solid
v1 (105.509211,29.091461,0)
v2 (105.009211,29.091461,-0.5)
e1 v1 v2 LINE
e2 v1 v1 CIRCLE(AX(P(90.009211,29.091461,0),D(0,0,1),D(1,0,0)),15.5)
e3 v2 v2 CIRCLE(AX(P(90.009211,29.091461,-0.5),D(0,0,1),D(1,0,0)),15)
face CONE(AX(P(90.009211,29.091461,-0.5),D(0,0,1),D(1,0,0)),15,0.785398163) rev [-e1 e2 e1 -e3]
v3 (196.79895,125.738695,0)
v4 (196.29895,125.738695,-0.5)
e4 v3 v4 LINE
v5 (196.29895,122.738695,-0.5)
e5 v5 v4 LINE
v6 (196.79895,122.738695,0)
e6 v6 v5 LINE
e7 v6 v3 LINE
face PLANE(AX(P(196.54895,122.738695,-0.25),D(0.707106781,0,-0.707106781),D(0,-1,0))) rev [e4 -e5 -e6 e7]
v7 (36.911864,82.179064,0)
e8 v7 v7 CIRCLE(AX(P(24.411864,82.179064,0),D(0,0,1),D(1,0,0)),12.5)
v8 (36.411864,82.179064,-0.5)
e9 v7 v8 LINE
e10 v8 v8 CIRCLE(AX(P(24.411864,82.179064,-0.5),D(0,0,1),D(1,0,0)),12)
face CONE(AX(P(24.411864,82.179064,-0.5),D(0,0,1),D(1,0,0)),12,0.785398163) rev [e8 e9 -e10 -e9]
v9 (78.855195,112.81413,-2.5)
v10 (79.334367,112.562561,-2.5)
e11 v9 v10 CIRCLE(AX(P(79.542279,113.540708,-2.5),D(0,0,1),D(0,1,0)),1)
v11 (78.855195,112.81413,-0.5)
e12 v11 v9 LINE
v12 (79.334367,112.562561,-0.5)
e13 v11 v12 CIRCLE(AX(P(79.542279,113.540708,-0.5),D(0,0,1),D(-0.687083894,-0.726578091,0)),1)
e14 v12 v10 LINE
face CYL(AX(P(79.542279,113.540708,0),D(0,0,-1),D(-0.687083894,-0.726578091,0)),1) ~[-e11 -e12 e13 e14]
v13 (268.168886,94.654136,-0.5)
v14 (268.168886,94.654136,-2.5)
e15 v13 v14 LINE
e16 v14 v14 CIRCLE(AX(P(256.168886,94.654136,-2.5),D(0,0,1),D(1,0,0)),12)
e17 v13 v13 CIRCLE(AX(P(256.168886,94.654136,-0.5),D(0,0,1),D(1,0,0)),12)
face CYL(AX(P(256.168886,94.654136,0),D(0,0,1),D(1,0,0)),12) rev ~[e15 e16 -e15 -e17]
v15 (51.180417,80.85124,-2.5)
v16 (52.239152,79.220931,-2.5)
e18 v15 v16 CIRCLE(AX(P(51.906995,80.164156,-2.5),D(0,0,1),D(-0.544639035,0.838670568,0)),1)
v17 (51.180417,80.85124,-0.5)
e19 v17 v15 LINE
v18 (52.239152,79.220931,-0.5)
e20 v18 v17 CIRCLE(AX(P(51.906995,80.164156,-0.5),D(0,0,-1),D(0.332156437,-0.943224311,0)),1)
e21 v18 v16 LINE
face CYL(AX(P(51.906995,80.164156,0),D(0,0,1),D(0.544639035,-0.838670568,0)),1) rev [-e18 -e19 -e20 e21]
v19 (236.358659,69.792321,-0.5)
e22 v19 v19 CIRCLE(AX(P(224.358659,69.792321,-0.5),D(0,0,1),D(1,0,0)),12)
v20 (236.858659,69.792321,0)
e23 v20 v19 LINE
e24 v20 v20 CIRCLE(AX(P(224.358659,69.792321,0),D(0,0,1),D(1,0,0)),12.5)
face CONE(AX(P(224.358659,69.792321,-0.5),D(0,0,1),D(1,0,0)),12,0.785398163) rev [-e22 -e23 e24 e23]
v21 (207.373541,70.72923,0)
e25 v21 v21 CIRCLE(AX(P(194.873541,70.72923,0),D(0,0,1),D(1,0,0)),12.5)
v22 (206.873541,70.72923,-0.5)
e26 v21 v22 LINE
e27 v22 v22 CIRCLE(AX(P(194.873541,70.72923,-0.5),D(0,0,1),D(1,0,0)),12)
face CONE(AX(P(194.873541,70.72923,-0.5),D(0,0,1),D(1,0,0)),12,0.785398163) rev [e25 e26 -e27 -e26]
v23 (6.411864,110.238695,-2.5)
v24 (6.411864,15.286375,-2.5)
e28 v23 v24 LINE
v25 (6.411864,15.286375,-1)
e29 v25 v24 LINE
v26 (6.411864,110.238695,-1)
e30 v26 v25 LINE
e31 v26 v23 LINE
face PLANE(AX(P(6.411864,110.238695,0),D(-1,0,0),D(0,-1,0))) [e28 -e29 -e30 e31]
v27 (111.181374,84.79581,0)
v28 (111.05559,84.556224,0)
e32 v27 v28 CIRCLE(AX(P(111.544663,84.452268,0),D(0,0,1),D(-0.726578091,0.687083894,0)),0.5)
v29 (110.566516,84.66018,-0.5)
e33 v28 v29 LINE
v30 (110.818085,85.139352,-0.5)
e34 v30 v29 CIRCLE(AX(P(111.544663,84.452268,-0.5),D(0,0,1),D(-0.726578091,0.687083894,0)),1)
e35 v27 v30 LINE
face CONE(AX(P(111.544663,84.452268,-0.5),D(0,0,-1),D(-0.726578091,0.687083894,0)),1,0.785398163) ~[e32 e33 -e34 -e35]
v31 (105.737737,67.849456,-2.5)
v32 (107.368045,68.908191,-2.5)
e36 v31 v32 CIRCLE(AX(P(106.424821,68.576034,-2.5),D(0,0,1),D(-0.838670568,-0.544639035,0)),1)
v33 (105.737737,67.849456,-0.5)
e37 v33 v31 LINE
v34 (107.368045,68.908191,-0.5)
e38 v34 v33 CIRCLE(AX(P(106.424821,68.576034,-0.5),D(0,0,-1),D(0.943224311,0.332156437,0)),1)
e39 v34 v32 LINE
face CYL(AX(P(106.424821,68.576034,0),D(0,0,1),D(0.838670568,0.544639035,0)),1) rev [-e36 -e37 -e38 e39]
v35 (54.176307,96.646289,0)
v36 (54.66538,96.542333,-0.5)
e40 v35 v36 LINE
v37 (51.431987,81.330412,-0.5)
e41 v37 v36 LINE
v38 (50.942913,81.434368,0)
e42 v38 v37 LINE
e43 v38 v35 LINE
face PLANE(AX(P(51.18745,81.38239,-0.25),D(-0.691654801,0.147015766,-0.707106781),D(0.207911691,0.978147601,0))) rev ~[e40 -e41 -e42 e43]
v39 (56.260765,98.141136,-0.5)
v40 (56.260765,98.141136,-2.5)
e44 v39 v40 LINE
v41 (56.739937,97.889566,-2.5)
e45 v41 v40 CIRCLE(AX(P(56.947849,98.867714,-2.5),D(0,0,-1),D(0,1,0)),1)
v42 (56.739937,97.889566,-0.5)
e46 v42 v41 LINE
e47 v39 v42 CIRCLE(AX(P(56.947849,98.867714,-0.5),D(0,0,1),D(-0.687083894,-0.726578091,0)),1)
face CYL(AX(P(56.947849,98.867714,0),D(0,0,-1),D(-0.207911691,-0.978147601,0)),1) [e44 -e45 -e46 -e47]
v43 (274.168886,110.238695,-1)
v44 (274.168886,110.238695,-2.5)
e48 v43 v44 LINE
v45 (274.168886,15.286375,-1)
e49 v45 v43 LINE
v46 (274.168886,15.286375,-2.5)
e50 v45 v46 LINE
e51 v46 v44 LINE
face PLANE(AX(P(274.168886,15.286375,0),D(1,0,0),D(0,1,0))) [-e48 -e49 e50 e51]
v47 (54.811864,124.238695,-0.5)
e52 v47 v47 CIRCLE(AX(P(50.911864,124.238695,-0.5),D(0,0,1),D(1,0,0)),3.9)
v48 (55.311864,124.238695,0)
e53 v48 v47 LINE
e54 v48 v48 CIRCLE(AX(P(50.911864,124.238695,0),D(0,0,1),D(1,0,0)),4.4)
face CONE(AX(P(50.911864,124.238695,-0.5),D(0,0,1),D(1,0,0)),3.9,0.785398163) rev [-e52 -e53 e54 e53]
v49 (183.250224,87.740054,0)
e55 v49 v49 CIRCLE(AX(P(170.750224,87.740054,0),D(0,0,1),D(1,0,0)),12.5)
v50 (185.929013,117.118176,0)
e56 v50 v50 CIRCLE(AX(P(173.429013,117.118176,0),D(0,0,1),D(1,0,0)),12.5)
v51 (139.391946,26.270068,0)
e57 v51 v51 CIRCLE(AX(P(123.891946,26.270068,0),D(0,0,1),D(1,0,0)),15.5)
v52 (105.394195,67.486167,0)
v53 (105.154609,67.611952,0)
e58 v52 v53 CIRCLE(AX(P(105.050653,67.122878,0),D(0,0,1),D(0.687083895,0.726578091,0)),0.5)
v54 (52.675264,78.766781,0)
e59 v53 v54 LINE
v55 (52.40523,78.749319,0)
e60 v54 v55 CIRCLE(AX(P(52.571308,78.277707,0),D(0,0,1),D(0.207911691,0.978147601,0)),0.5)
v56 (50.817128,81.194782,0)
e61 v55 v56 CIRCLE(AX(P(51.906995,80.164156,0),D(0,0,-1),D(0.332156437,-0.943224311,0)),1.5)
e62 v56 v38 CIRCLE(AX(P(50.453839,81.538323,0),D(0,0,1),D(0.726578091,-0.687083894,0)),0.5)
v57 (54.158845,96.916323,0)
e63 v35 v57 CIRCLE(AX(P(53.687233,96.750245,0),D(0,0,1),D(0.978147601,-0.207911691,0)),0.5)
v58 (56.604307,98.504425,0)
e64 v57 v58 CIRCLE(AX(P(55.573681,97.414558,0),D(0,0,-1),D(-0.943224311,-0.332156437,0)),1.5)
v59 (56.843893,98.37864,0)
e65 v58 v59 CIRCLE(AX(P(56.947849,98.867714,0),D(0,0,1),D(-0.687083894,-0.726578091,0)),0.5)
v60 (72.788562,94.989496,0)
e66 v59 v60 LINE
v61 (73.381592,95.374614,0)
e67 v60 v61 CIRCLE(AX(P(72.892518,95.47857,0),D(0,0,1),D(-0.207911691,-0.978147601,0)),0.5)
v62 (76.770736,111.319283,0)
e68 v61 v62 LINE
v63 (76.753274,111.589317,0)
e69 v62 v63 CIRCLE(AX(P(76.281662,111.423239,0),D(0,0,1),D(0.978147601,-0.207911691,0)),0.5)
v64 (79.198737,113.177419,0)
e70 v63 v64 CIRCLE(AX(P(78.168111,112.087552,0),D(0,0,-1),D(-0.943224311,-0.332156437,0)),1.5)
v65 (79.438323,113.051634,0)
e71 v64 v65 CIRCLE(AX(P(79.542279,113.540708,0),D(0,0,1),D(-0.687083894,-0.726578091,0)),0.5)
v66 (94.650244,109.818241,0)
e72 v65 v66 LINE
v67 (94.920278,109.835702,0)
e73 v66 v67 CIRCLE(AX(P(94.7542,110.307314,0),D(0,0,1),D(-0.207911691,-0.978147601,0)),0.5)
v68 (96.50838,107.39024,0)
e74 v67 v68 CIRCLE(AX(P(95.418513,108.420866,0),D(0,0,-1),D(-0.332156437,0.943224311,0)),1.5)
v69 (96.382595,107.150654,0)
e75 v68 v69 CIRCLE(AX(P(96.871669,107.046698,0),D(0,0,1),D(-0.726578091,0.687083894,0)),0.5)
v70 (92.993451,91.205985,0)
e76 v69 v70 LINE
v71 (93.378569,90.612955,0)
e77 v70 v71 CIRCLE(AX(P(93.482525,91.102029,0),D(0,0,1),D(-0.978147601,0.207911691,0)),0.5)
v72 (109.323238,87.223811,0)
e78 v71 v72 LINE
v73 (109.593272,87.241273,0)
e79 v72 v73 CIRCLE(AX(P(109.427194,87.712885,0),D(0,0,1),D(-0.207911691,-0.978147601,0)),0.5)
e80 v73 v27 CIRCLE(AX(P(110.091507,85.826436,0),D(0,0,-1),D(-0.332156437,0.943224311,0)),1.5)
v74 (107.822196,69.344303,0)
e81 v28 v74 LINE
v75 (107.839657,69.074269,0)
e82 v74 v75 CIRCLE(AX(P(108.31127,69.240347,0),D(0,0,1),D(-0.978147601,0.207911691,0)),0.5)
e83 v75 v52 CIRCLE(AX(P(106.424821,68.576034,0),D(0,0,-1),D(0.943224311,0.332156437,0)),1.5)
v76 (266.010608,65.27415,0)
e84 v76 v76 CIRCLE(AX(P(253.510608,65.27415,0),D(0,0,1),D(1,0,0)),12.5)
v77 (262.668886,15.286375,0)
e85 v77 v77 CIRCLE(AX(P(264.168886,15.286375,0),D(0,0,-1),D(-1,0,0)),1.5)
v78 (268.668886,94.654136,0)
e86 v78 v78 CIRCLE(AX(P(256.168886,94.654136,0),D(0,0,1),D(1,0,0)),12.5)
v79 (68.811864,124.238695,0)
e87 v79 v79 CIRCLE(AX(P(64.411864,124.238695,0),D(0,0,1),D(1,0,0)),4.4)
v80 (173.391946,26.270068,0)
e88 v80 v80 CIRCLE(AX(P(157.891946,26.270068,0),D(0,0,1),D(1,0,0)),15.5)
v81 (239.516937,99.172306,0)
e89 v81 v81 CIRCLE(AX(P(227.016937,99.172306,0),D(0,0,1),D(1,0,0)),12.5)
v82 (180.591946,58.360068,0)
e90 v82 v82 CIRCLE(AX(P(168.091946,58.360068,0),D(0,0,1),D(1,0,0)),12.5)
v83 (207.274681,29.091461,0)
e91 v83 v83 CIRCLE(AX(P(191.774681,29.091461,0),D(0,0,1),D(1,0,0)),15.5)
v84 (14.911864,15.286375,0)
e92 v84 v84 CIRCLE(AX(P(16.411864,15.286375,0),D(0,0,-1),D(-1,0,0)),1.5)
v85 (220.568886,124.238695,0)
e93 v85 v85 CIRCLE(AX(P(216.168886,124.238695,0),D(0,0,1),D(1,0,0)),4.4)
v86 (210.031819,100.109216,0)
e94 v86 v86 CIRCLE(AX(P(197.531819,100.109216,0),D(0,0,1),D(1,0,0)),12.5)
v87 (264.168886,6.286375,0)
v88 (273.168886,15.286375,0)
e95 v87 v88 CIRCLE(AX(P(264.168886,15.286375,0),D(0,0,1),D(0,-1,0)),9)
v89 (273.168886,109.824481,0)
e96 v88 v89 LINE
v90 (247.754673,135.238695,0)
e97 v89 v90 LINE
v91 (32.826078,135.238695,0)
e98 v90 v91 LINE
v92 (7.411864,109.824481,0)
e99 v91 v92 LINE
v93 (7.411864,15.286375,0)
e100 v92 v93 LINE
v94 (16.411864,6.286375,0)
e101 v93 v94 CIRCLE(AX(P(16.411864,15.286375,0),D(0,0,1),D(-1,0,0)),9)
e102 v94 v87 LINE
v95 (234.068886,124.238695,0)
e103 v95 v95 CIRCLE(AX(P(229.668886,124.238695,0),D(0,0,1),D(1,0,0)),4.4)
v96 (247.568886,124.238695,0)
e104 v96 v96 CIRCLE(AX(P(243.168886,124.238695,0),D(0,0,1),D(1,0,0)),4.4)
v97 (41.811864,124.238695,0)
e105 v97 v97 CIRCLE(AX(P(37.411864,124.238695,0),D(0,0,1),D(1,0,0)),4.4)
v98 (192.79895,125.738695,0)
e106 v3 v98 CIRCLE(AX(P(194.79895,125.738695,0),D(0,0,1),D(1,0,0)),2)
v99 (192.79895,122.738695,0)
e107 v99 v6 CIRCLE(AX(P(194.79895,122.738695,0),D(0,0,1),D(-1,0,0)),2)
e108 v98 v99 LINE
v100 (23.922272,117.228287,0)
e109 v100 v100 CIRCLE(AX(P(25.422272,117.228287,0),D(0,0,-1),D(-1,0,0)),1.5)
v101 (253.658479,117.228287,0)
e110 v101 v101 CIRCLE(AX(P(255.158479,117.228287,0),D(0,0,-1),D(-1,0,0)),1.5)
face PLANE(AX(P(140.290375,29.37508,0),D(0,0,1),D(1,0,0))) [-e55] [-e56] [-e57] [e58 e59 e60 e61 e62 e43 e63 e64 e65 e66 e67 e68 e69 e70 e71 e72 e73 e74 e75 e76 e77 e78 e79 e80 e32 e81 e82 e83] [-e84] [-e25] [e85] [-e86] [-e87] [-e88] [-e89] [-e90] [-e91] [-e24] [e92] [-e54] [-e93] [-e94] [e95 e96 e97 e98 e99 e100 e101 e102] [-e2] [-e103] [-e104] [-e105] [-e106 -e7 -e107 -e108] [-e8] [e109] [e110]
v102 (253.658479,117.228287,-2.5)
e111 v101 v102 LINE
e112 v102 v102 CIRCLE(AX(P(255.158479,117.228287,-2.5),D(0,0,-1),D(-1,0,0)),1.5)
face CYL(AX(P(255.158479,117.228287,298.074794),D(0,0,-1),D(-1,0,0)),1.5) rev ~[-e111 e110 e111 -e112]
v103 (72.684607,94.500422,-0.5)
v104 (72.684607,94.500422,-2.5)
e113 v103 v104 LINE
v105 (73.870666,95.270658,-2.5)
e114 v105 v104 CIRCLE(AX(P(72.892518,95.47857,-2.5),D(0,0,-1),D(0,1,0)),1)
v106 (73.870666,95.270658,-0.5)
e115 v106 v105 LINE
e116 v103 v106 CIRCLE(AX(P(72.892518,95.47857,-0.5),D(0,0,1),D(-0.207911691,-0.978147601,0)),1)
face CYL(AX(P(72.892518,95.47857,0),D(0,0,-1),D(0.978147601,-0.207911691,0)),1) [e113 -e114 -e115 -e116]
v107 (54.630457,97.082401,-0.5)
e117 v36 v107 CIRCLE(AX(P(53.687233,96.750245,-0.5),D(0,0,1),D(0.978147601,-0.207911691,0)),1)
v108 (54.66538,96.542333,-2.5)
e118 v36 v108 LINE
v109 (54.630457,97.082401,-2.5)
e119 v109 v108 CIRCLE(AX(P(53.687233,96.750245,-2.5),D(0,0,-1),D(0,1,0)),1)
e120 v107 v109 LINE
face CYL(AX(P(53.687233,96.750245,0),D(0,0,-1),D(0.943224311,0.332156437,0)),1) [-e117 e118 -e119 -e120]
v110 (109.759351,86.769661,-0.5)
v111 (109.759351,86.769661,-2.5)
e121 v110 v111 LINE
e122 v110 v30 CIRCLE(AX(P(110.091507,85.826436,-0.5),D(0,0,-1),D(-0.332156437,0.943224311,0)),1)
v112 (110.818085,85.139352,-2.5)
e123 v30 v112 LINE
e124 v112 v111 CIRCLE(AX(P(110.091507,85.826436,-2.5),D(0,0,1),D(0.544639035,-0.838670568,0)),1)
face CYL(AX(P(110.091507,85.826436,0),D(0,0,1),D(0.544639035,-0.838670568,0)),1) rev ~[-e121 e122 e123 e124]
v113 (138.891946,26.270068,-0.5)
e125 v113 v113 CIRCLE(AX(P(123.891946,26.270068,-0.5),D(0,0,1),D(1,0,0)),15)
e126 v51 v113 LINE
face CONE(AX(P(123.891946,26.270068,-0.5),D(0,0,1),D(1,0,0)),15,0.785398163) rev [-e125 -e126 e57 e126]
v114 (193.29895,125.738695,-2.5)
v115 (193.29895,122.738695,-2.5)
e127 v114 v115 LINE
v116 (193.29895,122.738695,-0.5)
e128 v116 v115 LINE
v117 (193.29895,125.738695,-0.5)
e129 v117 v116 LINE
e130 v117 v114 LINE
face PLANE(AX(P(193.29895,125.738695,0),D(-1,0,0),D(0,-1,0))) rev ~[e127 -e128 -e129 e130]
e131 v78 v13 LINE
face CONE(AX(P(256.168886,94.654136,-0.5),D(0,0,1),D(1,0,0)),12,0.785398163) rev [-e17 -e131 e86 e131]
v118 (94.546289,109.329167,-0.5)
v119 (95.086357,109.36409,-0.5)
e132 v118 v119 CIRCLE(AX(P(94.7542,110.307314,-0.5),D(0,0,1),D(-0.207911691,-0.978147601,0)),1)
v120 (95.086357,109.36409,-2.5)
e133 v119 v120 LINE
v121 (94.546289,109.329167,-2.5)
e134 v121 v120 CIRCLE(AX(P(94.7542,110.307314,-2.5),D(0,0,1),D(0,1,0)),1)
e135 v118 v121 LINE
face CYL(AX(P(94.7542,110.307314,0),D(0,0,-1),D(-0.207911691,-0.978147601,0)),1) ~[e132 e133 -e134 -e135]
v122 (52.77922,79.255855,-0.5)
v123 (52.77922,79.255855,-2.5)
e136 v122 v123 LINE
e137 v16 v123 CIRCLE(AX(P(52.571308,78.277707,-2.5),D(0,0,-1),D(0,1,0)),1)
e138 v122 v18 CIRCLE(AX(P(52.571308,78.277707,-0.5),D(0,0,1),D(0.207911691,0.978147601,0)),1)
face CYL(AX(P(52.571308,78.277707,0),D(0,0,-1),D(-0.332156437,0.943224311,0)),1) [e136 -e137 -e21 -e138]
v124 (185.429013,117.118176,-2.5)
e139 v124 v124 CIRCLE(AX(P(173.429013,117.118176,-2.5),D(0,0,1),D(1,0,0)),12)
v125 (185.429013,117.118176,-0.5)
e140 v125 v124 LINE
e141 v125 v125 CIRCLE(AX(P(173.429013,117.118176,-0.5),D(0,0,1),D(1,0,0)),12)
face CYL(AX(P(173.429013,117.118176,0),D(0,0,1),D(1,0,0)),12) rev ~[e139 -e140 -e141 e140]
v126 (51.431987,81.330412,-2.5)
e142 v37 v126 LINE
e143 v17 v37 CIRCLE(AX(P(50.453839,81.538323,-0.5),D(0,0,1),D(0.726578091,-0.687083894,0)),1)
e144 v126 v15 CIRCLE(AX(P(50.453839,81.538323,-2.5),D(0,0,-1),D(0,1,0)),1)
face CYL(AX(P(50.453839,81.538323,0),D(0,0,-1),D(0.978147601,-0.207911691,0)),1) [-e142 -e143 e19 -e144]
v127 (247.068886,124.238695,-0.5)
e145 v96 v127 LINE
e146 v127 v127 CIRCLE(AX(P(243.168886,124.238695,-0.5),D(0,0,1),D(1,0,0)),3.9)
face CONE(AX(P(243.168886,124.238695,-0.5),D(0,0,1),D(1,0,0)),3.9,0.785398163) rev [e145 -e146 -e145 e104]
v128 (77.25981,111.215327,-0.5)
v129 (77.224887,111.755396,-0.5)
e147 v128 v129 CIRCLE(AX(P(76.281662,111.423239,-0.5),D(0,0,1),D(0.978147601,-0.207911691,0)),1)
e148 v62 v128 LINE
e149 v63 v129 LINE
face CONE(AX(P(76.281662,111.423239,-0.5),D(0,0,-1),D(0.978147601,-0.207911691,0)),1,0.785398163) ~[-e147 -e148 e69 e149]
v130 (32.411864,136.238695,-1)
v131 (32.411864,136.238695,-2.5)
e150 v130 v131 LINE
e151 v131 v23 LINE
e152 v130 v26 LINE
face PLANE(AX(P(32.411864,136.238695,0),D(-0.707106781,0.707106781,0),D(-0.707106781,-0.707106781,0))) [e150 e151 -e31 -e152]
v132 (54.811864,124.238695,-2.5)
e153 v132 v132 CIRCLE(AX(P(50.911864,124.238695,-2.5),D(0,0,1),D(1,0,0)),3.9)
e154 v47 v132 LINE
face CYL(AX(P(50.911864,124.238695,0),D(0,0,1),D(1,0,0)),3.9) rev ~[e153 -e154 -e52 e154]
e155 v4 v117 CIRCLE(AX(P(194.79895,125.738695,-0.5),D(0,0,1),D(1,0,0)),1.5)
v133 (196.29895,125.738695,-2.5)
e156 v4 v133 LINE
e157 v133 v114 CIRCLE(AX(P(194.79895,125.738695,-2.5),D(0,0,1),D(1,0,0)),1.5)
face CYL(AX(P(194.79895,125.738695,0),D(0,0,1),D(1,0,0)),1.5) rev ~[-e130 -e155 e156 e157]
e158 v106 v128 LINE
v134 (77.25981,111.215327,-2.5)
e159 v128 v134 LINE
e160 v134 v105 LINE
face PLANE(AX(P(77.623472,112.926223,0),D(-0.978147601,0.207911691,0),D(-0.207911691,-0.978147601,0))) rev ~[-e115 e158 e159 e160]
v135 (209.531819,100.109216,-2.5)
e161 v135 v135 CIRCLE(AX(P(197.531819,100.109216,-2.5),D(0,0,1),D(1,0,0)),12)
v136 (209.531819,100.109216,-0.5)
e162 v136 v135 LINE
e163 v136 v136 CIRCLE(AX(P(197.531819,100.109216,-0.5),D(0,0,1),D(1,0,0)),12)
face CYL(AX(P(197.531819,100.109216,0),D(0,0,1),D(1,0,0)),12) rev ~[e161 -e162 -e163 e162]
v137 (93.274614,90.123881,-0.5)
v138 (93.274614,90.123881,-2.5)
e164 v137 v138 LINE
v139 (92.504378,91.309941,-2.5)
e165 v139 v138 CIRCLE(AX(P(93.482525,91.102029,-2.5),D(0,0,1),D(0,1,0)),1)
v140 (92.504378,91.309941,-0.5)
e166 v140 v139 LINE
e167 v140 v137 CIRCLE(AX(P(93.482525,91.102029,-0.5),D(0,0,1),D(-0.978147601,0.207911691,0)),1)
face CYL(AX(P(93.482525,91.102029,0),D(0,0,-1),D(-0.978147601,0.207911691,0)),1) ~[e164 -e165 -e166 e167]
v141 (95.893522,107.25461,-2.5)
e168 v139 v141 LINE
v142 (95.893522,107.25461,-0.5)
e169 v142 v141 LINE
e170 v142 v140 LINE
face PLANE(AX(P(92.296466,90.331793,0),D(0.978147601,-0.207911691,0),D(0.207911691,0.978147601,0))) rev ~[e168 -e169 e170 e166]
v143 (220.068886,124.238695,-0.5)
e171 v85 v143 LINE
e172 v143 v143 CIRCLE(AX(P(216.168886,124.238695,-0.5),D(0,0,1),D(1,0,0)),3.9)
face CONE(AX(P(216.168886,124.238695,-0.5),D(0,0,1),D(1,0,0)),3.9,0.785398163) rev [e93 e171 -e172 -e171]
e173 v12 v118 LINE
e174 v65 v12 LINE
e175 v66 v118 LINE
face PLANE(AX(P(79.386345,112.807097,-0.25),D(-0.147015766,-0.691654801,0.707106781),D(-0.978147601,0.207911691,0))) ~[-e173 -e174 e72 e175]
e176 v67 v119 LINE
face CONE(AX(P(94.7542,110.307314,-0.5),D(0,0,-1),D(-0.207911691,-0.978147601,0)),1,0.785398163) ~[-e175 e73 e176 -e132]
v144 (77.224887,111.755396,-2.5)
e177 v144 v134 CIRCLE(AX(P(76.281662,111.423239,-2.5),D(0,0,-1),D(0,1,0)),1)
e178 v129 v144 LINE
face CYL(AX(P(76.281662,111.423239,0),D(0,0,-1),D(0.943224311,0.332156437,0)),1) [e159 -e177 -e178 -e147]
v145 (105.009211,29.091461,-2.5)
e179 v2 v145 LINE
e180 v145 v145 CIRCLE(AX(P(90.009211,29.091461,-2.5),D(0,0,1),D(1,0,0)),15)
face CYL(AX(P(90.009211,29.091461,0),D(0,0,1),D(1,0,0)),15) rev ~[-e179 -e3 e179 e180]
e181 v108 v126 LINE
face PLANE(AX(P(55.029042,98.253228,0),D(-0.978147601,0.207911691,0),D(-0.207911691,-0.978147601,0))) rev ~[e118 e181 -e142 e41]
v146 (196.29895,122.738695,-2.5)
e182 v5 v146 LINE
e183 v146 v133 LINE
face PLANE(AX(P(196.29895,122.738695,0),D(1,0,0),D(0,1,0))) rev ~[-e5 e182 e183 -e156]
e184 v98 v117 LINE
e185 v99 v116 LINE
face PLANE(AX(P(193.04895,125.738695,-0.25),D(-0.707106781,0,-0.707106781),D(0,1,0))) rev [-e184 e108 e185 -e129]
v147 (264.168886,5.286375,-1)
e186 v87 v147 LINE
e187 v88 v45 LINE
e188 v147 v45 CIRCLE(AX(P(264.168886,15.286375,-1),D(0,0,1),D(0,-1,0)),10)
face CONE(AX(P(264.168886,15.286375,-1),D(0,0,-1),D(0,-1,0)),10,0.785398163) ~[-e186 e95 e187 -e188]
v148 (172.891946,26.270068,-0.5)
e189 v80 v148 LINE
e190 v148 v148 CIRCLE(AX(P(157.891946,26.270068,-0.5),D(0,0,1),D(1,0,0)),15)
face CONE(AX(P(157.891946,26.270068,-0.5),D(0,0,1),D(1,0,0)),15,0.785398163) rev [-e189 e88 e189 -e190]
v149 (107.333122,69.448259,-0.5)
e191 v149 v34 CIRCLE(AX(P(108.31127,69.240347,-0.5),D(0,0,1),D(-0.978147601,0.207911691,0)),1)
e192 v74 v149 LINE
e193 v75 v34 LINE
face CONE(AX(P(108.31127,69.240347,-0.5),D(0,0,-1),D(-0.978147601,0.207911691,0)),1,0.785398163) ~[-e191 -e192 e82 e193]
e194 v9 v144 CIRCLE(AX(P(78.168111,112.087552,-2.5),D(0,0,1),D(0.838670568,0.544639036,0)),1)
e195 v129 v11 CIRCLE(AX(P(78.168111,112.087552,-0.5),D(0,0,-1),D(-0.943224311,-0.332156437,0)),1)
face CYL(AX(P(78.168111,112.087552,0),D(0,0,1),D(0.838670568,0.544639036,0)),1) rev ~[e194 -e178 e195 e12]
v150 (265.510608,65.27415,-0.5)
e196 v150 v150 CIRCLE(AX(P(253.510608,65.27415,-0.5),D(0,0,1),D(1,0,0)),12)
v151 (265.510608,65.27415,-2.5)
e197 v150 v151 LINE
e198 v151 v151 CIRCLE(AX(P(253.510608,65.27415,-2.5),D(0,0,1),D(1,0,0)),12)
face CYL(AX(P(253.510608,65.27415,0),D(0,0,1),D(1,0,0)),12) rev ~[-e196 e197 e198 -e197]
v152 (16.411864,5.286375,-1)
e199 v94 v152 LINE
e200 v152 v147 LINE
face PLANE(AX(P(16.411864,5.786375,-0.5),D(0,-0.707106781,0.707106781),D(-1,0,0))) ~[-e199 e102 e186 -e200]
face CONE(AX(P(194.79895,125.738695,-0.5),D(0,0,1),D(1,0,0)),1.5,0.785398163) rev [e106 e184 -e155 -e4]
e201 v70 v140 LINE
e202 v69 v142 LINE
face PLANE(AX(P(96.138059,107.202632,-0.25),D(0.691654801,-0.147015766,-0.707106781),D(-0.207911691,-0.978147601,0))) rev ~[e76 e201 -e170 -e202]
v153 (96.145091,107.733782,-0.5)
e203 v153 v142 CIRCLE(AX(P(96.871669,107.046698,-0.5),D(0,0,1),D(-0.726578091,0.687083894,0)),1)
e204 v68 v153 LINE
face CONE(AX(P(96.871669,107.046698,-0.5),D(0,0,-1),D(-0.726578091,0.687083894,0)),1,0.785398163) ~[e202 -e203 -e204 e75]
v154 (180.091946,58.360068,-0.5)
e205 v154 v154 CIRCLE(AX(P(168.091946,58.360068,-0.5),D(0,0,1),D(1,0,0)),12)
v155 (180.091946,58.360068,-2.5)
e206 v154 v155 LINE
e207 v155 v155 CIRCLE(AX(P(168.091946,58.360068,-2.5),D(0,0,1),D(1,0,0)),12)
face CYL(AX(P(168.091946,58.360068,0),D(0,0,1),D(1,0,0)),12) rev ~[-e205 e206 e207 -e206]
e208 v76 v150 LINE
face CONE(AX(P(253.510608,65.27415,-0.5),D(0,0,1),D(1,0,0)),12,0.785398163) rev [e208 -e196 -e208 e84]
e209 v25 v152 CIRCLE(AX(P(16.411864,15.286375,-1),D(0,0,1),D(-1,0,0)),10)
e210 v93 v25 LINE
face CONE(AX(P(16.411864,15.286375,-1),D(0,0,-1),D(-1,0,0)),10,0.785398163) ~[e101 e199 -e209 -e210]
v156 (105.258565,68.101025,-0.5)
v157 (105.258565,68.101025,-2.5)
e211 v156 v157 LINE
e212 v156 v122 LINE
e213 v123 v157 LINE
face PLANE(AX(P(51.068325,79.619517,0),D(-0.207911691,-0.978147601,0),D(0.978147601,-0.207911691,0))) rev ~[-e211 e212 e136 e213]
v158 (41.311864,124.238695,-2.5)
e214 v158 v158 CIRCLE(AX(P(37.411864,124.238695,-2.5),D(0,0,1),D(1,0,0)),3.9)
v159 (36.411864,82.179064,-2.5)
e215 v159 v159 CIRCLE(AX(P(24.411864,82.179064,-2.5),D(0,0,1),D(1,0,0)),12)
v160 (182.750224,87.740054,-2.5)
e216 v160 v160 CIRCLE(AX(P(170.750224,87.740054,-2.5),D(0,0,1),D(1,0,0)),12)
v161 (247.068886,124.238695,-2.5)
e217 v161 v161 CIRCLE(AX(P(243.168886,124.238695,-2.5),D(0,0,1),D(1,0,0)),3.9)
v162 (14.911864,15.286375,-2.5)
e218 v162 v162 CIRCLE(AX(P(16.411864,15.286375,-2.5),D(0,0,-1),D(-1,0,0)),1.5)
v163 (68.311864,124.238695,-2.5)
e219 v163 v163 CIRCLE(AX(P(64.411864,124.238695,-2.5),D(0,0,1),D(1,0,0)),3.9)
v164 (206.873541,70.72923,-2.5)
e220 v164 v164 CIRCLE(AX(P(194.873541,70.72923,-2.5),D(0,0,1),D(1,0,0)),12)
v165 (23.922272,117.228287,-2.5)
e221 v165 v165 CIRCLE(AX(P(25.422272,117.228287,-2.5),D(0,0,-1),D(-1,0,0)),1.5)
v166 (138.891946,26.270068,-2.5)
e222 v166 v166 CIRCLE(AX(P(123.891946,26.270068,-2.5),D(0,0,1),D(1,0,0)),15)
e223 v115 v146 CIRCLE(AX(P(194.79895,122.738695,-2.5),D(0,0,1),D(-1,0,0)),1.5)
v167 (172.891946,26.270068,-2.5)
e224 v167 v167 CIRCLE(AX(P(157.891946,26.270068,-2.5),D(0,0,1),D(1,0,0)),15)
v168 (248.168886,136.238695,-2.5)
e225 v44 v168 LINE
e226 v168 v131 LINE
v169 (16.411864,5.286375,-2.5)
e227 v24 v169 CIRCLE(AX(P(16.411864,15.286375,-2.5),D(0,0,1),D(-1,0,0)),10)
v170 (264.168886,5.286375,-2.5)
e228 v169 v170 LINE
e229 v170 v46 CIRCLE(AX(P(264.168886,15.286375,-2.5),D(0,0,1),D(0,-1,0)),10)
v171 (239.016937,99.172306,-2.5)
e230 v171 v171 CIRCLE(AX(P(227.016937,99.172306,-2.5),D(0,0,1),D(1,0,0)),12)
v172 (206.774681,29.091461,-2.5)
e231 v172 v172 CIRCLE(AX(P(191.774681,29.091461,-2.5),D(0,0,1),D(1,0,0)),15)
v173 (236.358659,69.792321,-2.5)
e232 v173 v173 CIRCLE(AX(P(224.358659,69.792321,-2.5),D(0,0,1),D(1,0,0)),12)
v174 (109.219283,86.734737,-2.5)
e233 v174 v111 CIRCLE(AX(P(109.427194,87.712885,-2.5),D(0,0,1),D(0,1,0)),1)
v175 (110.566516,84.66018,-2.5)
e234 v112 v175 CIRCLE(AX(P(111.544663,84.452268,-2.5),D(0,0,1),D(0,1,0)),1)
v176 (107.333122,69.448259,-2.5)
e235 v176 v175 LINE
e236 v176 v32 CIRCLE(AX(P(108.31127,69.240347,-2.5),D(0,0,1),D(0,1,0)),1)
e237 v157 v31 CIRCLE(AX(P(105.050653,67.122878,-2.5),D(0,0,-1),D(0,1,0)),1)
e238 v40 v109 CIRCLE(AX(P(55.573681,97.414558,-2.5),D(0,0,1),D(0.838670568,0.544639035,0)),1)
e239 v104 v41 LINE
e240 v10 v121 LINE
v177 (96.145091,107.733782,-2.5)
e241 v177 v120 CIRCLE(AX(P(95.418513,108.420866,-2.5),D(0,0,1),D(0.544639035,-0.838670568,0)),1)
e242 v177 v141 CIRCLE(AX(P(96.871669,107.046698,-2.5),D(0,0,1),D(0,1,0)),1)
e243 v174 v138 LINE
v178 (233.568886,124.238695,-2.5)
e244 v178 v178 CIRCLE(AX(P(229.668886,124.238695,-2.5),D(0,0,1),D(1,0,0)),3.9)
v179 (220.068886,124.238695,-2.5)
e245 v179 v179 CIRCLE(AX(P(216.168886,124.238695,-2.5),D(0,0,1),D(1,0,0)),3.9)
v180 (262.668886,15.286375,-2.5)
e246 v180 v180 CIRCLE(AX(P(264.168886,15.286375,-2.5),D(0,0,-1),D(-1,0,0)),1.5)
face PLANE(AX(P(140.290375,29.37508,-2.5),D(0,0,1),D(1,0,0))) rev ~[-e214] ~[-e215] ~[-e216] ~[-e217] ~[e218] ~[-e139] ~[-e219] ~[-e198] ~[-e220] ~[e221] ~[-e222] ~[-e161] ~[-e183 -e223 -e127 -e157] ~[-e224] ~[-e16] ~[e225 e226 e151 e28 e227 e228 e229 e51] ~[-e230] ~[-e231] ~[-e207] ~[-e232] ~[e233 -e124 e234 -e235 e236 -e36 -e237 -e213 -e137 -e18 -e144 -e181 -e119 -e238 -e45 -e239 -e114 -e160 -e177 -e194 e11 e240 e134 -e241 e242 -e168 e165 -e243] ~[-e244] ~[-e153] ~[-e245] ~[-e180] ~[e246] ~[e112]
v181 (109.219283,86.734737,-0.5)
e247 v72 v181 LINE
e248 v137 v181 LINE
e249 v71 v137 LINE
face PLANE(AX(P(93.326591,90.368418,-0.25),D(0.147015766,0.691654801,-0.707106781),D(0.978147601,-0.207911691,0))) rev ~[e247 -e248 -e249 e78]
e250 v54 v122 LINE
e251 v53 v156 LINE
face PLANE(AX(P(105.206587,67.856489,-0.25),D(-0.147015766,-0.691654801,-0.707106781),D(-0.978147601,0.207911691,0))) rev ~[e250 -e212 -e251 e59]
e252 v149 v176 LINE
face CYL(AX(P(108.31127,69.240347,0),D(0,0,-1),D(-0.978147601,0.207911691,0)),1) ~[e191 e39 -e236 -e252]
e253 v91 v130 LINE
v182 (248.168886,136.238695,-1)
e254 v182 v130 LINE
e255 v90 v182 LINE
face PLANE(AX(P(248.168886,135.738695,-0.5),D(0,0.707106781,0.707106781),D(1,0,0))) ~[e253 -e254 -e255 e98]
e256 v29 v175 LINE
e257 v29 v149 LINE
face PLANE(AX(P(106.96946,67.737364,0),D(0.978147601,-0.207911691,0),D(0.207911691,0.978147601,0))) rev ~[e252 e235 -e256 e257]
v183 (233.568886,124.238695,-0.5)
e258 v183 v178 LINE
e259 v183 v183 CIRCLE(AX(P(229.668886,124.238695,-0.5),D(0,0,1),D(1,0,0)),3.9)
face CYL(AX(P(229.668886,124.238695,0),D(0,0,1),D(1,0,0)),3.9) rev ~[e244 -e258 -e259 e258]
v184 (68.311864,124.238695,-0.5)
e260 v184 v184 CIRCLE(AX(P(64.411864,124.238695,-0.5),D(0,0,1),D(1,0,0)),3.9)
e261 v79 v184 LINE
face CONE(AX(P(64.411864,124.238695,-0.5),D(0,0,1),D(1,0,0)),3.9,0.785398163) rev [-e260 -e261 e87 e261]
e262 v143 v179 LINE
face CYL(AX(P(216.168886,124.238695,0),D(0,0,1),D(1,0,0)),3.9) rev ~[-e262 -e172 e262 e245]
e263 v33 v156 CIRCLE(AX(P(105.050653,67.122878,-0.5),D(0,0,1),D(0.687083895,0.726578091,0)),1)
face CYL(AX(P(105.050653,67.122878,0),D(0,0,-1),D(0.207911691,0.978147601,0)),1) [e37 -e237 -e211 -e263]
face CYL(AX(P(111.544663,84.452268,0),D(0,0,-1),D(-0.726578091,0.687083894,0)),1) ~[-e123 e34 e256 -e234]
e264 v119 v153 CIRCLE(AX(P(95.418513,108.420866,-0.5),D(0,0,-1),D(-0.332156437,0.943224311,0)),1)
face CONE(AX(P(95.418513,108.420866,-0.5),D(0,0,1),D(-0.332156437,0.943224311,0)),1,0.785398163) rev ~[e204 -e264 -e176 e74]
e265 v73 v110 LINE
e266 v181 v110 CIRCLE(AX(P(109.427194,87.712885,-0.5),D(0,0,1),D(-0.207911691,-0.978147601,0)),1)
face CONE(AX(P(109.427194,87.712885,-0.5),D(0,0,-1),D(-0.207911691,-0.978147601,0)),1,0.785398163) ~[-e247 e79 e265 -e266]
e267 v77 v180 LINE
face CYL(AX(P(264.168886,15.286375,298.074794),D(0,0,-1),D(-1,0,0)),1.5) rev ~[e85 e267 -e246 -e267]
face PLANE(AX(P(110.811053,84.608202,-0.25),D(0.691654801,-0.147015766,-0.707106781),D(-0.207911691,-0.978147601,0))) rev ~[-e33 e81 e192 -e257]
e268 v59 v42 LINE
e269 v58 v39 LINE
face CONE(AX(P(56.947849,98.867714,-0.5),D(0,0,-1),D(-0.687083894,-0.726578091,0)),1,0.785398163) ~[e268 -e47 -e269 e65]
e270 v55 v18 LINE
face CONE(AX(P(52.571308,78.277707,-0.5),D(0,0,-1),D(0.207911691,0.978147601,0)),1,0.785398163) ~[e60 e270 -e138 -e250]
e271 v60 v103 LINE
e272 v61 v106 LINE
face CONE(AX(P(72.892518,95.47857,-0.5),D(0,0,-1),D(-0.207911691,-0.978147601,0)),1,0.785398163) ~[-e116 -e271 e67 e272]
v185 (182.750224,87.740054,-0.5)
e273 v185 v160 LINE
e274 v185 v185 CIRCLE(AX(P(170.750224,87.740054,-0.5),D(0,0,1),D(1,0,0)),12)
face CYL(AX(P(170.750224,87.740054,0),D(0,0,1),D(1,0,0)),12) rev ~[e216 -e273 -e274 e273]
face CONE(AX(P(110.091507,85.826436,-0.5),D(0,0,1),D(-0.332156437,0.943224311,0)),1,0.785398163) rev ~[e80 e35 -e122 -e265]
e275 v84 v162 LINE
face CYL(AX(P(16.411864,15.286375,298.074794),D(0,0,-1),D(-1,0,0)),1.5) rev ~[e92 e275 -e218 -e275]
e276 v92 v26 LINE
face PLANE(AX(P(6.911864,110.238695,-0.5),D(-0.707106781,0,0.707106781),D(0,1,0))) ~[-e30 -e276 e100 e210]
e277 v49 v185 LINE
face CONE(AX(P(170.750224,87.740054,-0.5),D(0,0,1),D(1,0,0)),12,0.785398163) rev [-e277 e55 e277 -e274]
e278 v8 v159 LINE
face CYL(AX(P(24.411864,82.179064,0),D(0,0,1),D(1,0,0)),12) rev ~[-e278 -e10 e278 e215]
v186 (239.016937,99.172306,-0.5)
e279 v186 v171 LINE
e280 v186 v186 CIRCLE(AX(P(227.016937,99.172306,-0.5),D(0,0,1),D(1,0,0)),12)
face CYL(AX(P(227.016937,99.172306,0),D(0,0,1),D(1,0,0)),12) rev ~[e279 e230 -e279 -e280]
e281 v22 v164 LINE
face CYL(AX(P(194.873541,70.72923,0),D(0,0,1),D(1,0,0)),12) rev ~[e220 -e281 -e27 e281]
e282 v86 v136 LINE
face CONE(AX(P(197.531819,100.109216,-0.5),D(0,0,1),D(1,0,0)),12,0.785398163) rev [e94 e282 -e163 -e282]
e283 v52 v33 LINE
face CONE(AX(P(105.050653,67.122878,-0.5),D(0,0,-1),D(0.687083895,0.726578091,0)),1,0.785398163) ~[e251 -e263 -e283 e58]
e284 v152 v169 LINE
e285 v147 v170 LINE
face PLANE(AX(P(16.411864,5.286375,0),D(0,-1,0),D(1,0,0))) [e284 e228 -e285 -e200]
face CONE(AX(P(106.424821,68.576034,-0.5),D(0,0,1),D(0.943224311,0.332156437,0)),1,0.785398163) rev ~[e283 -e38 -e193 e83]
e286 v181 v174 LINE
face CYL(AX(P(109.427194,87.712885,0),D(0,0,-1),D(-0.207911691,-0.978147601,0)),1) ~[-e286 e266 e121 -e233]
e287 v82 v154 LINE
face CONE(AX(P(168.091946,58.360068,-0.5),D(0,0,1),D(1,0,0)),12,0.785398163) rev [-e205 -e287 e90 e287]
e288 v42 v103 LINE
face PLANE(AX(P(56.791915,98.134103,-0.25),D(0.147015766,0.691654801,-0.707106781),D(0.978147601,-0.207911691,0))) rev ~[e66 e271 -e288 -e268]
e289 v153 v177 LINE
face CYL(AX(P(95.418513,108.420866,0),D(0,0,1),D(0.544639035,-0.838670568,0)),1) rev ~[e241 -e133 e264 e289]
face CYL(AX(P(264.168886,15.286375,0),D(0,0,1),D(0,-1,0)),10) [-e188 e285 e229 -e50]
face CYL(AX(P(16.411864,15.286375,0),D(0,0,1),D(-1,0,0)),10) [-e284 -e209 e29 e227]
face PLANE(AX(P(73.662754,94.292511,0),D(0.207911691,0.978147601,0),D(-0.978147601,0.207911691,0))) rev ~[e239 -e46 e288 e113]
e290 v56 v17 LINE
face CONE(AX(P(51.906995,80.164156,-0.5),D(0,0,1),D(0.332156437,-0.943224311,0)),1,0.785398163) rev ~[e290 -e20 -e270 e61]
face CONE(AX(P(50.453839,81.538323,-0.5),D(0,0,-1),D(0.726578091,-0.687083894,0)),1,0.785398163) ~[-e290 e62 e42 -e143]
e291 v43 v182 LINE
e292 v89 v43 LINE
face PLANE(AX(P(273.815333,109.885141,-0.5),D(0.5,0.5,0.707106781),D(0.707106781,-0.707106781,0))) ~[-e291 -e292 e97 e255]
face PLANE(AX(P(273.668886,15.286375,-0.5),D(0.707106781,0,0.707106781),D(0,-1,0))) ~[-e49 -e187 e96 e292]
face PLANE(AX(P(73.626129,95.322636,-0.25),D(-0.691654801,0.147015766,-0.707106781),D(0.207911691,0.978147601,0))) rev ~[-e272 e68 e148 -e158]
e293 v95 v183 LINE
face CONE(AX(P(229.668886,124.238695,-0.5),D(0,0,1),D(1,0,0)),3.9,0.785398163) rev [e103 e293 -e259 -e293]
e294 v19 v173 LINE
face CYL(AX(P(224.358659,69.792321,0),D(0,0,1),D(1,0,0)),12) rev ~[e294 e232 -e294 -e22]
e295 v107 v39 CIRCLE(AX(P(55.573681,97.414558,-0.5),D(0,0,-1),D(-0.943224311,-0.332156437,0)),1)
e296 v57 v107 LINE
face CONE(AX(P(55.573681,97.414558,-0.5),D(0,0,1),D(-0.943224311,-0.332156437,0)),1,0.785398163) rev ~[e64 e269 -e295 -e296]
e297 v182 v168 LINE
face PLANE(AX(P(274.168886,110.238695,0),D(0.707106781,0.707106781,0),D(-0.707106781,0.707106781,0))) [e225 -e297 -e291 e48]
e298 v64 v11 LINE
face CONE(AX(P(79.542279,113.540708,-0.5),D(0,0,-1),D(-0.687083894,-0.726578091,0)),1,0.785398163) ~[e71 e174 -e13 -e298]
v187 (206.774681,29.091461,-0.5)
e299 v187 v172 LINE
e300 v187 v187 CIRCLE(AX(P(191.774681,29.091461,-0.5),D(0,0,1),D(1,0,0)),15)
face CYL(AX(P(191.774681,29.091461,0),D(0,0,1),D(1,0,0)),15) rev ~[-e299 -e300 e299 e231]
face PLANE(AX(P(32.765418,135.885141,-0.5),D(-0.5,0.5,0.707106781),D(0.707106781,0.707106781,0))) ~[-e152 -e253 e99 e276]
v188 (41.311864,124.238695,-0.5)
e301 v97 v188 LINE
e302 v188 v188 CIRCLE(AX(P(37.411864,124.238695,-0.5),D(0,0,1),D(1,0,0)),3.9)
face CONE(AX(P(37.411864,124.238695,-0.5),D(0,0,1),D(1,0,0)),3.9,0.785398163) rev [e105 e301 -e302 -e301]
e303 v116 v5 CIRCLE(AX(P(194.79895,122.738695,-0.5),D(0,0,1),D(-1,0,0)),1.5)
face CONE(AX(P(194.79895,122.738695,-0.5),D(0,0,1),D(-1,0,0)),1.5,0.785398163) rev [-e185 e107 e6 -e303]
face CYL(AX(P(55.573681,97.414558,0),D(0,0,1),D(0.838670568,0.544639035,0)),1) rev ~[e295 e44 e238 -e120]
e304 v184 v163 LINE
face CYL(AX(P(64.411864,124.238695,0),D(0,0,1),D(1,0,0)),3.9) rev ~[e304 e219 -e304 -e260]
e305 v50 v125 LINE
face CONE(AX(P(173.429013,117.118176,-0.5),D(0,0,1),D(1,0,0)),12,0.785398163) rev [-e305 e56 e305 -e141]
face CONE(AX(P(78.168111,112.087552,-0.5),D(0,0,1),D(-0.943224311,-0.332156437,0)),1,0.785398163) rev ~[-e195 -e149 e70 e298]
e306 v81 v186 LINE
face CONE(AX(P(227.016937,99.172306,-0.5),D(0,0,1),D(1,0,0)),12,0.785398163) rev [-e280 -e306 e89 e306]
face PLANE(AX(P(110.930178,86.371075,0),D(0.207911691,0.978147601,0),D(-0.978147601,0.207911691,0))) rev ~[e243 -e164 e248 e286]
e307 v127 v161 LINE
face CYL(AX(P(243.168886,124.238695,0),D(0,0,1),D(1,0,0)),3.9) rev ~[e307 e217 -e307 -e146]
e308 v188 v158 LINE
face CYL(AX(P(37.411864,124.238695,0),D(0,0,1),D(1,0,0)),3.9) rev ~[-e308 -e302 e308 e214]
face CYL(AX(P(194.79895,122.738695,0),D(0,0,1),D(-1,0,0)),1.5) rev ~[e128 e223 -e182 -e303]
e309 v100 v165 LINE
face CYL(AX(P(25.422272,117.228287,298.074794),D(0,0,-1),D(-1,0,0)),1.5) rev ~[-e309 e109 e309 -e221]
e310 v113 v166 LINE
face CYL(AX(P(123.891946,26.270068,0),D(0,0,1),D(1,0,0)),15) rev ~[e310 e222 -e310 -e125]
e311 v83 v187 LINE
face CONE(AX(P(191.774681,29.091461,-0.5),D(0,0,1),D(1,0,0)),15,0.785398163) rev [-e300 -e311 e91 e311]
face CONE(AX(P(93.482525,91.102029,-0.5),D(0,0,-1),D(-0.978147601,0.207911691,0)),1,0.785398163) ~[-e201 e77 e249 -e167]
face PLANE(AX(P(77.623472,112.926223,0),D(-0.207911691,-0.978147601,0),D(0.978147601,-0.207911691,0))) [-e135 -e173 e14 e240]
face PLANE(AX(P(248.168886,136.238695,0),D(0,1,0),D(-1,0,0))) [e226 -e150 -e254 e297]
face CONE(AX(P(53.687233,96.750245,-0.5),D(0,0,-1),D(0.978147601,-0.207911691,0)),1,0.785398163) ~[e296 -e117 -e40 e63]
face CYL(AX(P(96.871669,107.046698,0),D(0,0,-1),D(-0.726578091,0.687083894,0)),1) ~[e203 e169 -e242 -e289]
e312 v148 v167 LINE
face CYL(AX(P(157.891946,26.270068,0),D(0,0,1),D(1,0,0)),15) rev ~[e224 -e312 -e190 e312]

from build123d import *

# Parameters (mm, degrees)
BOSS_EXTRUDE1_DEPTH   = 2.5
SKETCH24_R            = 3.9
CUT_EXTRUDE2_DEPTH    = 307.16304509
SKETCH1_R             = 12
SKETCH1_R_2           = 15
CUT_EXTRUDE3_DEPTH    = 307.16304509
CUT_EXTRUDE5_DEPTH    = 326.800182738
CUT_EXTRUDE6_DEPTH    = 307.16304509
F_3_0MM_DOWEL_HOLE1_D = 3
FILLET1_R             = 1
CHAMFER1_SIZE         = 1
CHAMFER2_SIZE         = 0.5


with BuildPart() as part:
    # Sketch2 → Boss-Extrude1 (new body)
    with BuildSketch(Plane.XY):
        with BuildLine():
            Line((6.41186441, 110.238694526), (6.41186441, 15.286374556))
            ThreePointArc((6.41186441, 15.286374556), (9.340796598, 8.215306744), (16.41186441, 5.286374556))
            Line((16.41186441, 5.286374556), (264.168886442, 5.286374556))
            ThreePointArc((264.168886442, 5.286374556), (271.239954254, 8.215306744), (274.168886442, 15.286374556))
            Line((274.168886442, 15.286374556), (274.168886442, 110.238694526))
            Line((274.168886442, 110.238694526), (248.168886442, 136.238694526))
            Line((248.168886442, 136.238694526), (32.41186441, 136.238694526))
            Line((32.41186441, 136.238694526), (6.41186441, 110.238694526))
        make_face()
    extrude(amount=-BOSS_EXTRUDE1_DEPTH)

    # Sketch24 → Cut-Extrude2 (cut, through all)
    with BuildSketch(Plane.XY):
        with Locations((37.41186441, 124.238694526)):
            Circle(SKETCH24_R)
        with Locations((50.91186441, 124.238694526)):
            Circle(SKETCH24_R)
        with Locations((64.41186441, 124.238694526)):
            Circle(SKETCH24_R)
        with Locations((216.168886442, 124.238694526)):
            Circle(SKETCH24_R)
        with Locations((229.668886442, 124.238694526)):
            Circle(SKETCH24_R)
        with Locations((243.168886442, 124.238694526)):
            Circle(SKETCH24_R)
        with BuildLine():
            Line((193.298949614, 125.738694526), (193.298949614, 122.738694526))
            ThreePointArc((193.298949614, 122.738694526), (194.798949614, 121.238694526), (196.298949614, 122.738694526))
            Line((196.298949614, 122.738694526), (196.298949614, 125.738694526))
            ThreePointArc((196.298949614, 125.738694526), (194.798949614, 127.238694526), (193.298949614, 125.738694526))
        make_face()
    extrude(amount=-CUT_EXTRUDE2_DEPTH, mode=Mode.SUBTRACT)

    # Sketch1 → Cut-Extrude3 (cut, through all)
    with BuildSketch(Plane.XY):
        with Locations((24.41186441, 82.179064133)):
            Circle(SKETCH1_R)
        with Locations((168.091946024, 58.360067852)):
            Circle(SKETCH1_R)
        with Locations((194.873540874, 70.729230202)):
            Circle(SKETCH1_R)
        with Locations((224.358659158, 69.792320505)):
            Circle(SKETCH1_R)
        with Locations((253.510608286, 65.274150291)):
            Circle(SKETCH1_R)
        with Locations((256.168886442, 94.654135948)):
            Circle(SKETCH1_R)
        with Locations((227.016937315, 99.172306162)):
            Circle(SKETCH1_R)
        with Locations((197.531819031, 100.10921586)):
            Circle(SKETCH1_R)
        with Locations((170.75022418, 87.740053509)):
            Circle(SKETCH1_R)
        with Locations((191.774681199, 29.091460603)):
            Circle(SKETCH1_R_2)
        with Locations((157.891946024, 26.270067852)):
            Circle(SKETCH1_R_2)
        with Locations((123.891946024, 26.270067852)):
            Circle(SKETCH1_R_2)
        with Locations((90.009210849, 29.091460603)):
            Circle(SKETCH1_R_2)
        with Locations((173.429012786, 117.118176179)):
            Circle(SKETCH1_R)
    extrude(amount=-CUT_EXTRUDE3_DEPTH, mode=Mode.SUBTRACT)

    # Sketch4 → Cut-Extrude5 (cut, through all)
    with BuildSketch(Plane(origin=(-30.20834345, 20.07496957, 0), x_dir=(0.9781476007338056, -0.2079116908177598, 0), z_dir=(0, 0, 1))):
        Polygon((86.170570415, 113.241725336), (86.170570415, 94.191725336), (67.120570415, 94.191725336), (67.120570415, 75.141725336), (124.270570415, 75.141725336), (124.270570415, 94.191725336), (105.220570415, 94.191725336), (105.220570415, 113.241725336), align=None)
    extrude(amount=-CUT_EXTRUDE5_DEPTH, mode=Mode.SUBTRACT)

    # Sketch27 → Cut-Extrude6 (cut, through all)
    with BuildSketch(Plane.XY):
        with BuildLine():
            Line((54.735010804, 96.86991883), (56.41235194, 97.9591969))
            ThreePointArc((56.41235194, 97.9591969), (55.029042337, 98.253228433), (54.735010804, 96.86991883))
        make_face()
        with BuildLine():
            Line((51.36235616, 81.002826242), (52.45163423, 79.325485106))
            ThreePointArc((52.45163423, 79.325485106), (51.068324627, 79.619516639), (51.36235616, 81.002826242))
        make_face()
        with BuildLine():
            Line((105.586150406, 68.031395041), (107.263491542, 69.120673111))
            ThreePointArc((107.263491542, 69.120673111), (106.969460009, 67.737363508), (105.586150406, 68.031395041))
        make_face()
        with BuildLine():
            Line((109.546868116, 86.665106835), (110.636146186, 84.987765699))
            ThreePointArc((110.636146186, 84.987765699), (110.930177719, 86.371075302), (109.546868116, 86.665106835))
        make_face()
        with BuildLine():
            Line((77.329440308, 111.542912914), (79.006781444, 112.632190984))
            ThreePointArc((79.006781444, 112.632190984), (77.623471841, 112.926222516), (77.329440308, 111.542912914))
        make_face()
        with BuildLine():
            Line((94.873874032, 109.259536339), (95.963152102, 107.582195203))
            ThreePointArc((95.963152102, 107.582195203), (96.257183635, 108.965504806), (94.873874032, 109.259536339))
        make_face()
    extrude(amount=-CUT_EXTRUDE6_DEPTH, mode=Mode.SUBTRACT)

    # Ø3.0mm Dowel Hole1 (through all)
    with Locations(Plane.XY):
        with Locations((25.42227205, 117.228286886), (16.41186441, 15.286374556), (264.168886442, 15.286374556), (255.158478802, 117.228286886)):
            Hole(F_3_0MM_DOWEL_HOLE1_D / 2)

    # Fillet1
    fillet1_edges = [part.edges().sort_by_distance(p)[0] for p in [
        (105.586150406, 68.031395041, -1.25),
        (107.263491542, 69.120673111, -1.25),
        (110.636146186, 84.987765699, -1.25),
        (109.546868116, 86.665106835, -1.25),
        (92.296465925, 90.331793012, -1.25),
        (95.963152102, 107.582195203, -1.25),
        (94.873874032, 109.259536339, -1.25),
        (77.329440308, 111.542912914, -1.25),
        (79.006781444, 112.632190984, -1.25),
        (73.662754131, 94.292510723, -1.25),
        (52.45163423, 79.325485106, -1.25),
        (51.36235616, 81.002826242, -1.25),
        (54.735010804, 96.86991883, -1.25),
        (56.41235194, 97.9591969, -1.25),
    ]]
    fillet(fillet1_edges, radius=FILLET1_R)

    # Chamfer1
    chamfer1_edges = [part.edges().sort_by_distance(p)[0] for p in [
        (274.168886442, 62.762534541, 0),
        (271.239954254, 8.215306744, 0),
        (140.290375426, 5.286374556, 0),
        (9.340796598, 8.215306744, 0),
        (261.168886442, 123.238694526, 0),
        (140.290375426, 136.238694526, 0),
        (6.41186441, 62.762534541, 0),
        (19.41186441, 123.238694526, 0),
    ]]
    chamfer(chamfer1_edges, length=CHAMFER1_SIZE)

    # Chamfer2
    chamfer2_edges = [part.edges().sort_by_distance(p)[0] for p in [
        (239.268886442, 124.238694526, 0),
        (225.768886442, 124.238694526, 0),
        (212.268886442, 124.238694526, 0),
        (193.298949614, 124.238694526, 0),
        (194.798949614, 121.238694526, 0),
        (194.798949614, 127.238694526, 0),
        (196.298949614, 124.238694526, 0),
        (60.51186441, 124.238694526, 0),
        (47.01186441, 124.238694526, 0),
        (33.51186441, 124.238694526, 0),
        (161.429012786, 117.118176179, 0),
        (244.168886442, 94.654135948, 0),
        (215.016937315, 99.172306162, 0),
        (185.531819031, 100.10921586, 0),
        (158.75022418, 87.740053509, 0),
        (182.873540874, 70.729230202, 0),
        (212.358659158, 69.792320505, 0),
        (241.510608286, 65.274150291, 0),
        (176.774681199, 29.091460603, 0),
        (156.091946024, 58.360067852, 0),
        (142.891946024, 26.270067852, 0),
        (108.891946024, 26.270067852, 0),
        (75.009210849, 29.091460603, 0),
        (12.41186441, 82.179064133, 0),
        (86.940327738, 110.945863661, 0),
        (79.077438822, 112.655313348, 0),
        (94.818730018, 109.309398615, 0),
        (77.623471841, 112.926222516, 0),
        (96.257183635, 108.965504806, 0),
        (77.279578032, 111.487768899, 0),
        (95.986274466, 107.511537825, 0),
        (75.565237838, 103.242992853, 0),
        (94.198949632, 99.282275143, 0),
        (73.437157256, 94.639899446, 0),
        (92.643854649, 90.557389887, 0),
        (64.712272, 96.19499443, 0),
        (101.246948056, 88.429309305, 0),
        (56.483009318, 97.982319264, 0),
        (109.491724102, 86.714969111, 0),
        (55.029042337, 98.253228433, 0),
        (110.930177719, 86.371075302, 0),
        (54.685148528, 96.814774815, 0),
        (110.65926855, 84.917108321, 0),
        (53.048683482, 88.936372536, 0),
        (108.949818864, 77.054219405, 0),
        (51.339233796, 81.07348362, 0),
        (107.313353817, 69.175817126, 0),
        (51.068324627, 79.619516639, 0),
        (106.969460009, 67.737363508, 0),
        (52.506778244, 79.27562283, 0),
        (105.515493027, 68.008272677, 0),
        (79.018892318, 73.678440073, 0),
    ]]
    chamfer(chamfer2_edges, length=CHAMFER2_SIZE)


solid = part.part
